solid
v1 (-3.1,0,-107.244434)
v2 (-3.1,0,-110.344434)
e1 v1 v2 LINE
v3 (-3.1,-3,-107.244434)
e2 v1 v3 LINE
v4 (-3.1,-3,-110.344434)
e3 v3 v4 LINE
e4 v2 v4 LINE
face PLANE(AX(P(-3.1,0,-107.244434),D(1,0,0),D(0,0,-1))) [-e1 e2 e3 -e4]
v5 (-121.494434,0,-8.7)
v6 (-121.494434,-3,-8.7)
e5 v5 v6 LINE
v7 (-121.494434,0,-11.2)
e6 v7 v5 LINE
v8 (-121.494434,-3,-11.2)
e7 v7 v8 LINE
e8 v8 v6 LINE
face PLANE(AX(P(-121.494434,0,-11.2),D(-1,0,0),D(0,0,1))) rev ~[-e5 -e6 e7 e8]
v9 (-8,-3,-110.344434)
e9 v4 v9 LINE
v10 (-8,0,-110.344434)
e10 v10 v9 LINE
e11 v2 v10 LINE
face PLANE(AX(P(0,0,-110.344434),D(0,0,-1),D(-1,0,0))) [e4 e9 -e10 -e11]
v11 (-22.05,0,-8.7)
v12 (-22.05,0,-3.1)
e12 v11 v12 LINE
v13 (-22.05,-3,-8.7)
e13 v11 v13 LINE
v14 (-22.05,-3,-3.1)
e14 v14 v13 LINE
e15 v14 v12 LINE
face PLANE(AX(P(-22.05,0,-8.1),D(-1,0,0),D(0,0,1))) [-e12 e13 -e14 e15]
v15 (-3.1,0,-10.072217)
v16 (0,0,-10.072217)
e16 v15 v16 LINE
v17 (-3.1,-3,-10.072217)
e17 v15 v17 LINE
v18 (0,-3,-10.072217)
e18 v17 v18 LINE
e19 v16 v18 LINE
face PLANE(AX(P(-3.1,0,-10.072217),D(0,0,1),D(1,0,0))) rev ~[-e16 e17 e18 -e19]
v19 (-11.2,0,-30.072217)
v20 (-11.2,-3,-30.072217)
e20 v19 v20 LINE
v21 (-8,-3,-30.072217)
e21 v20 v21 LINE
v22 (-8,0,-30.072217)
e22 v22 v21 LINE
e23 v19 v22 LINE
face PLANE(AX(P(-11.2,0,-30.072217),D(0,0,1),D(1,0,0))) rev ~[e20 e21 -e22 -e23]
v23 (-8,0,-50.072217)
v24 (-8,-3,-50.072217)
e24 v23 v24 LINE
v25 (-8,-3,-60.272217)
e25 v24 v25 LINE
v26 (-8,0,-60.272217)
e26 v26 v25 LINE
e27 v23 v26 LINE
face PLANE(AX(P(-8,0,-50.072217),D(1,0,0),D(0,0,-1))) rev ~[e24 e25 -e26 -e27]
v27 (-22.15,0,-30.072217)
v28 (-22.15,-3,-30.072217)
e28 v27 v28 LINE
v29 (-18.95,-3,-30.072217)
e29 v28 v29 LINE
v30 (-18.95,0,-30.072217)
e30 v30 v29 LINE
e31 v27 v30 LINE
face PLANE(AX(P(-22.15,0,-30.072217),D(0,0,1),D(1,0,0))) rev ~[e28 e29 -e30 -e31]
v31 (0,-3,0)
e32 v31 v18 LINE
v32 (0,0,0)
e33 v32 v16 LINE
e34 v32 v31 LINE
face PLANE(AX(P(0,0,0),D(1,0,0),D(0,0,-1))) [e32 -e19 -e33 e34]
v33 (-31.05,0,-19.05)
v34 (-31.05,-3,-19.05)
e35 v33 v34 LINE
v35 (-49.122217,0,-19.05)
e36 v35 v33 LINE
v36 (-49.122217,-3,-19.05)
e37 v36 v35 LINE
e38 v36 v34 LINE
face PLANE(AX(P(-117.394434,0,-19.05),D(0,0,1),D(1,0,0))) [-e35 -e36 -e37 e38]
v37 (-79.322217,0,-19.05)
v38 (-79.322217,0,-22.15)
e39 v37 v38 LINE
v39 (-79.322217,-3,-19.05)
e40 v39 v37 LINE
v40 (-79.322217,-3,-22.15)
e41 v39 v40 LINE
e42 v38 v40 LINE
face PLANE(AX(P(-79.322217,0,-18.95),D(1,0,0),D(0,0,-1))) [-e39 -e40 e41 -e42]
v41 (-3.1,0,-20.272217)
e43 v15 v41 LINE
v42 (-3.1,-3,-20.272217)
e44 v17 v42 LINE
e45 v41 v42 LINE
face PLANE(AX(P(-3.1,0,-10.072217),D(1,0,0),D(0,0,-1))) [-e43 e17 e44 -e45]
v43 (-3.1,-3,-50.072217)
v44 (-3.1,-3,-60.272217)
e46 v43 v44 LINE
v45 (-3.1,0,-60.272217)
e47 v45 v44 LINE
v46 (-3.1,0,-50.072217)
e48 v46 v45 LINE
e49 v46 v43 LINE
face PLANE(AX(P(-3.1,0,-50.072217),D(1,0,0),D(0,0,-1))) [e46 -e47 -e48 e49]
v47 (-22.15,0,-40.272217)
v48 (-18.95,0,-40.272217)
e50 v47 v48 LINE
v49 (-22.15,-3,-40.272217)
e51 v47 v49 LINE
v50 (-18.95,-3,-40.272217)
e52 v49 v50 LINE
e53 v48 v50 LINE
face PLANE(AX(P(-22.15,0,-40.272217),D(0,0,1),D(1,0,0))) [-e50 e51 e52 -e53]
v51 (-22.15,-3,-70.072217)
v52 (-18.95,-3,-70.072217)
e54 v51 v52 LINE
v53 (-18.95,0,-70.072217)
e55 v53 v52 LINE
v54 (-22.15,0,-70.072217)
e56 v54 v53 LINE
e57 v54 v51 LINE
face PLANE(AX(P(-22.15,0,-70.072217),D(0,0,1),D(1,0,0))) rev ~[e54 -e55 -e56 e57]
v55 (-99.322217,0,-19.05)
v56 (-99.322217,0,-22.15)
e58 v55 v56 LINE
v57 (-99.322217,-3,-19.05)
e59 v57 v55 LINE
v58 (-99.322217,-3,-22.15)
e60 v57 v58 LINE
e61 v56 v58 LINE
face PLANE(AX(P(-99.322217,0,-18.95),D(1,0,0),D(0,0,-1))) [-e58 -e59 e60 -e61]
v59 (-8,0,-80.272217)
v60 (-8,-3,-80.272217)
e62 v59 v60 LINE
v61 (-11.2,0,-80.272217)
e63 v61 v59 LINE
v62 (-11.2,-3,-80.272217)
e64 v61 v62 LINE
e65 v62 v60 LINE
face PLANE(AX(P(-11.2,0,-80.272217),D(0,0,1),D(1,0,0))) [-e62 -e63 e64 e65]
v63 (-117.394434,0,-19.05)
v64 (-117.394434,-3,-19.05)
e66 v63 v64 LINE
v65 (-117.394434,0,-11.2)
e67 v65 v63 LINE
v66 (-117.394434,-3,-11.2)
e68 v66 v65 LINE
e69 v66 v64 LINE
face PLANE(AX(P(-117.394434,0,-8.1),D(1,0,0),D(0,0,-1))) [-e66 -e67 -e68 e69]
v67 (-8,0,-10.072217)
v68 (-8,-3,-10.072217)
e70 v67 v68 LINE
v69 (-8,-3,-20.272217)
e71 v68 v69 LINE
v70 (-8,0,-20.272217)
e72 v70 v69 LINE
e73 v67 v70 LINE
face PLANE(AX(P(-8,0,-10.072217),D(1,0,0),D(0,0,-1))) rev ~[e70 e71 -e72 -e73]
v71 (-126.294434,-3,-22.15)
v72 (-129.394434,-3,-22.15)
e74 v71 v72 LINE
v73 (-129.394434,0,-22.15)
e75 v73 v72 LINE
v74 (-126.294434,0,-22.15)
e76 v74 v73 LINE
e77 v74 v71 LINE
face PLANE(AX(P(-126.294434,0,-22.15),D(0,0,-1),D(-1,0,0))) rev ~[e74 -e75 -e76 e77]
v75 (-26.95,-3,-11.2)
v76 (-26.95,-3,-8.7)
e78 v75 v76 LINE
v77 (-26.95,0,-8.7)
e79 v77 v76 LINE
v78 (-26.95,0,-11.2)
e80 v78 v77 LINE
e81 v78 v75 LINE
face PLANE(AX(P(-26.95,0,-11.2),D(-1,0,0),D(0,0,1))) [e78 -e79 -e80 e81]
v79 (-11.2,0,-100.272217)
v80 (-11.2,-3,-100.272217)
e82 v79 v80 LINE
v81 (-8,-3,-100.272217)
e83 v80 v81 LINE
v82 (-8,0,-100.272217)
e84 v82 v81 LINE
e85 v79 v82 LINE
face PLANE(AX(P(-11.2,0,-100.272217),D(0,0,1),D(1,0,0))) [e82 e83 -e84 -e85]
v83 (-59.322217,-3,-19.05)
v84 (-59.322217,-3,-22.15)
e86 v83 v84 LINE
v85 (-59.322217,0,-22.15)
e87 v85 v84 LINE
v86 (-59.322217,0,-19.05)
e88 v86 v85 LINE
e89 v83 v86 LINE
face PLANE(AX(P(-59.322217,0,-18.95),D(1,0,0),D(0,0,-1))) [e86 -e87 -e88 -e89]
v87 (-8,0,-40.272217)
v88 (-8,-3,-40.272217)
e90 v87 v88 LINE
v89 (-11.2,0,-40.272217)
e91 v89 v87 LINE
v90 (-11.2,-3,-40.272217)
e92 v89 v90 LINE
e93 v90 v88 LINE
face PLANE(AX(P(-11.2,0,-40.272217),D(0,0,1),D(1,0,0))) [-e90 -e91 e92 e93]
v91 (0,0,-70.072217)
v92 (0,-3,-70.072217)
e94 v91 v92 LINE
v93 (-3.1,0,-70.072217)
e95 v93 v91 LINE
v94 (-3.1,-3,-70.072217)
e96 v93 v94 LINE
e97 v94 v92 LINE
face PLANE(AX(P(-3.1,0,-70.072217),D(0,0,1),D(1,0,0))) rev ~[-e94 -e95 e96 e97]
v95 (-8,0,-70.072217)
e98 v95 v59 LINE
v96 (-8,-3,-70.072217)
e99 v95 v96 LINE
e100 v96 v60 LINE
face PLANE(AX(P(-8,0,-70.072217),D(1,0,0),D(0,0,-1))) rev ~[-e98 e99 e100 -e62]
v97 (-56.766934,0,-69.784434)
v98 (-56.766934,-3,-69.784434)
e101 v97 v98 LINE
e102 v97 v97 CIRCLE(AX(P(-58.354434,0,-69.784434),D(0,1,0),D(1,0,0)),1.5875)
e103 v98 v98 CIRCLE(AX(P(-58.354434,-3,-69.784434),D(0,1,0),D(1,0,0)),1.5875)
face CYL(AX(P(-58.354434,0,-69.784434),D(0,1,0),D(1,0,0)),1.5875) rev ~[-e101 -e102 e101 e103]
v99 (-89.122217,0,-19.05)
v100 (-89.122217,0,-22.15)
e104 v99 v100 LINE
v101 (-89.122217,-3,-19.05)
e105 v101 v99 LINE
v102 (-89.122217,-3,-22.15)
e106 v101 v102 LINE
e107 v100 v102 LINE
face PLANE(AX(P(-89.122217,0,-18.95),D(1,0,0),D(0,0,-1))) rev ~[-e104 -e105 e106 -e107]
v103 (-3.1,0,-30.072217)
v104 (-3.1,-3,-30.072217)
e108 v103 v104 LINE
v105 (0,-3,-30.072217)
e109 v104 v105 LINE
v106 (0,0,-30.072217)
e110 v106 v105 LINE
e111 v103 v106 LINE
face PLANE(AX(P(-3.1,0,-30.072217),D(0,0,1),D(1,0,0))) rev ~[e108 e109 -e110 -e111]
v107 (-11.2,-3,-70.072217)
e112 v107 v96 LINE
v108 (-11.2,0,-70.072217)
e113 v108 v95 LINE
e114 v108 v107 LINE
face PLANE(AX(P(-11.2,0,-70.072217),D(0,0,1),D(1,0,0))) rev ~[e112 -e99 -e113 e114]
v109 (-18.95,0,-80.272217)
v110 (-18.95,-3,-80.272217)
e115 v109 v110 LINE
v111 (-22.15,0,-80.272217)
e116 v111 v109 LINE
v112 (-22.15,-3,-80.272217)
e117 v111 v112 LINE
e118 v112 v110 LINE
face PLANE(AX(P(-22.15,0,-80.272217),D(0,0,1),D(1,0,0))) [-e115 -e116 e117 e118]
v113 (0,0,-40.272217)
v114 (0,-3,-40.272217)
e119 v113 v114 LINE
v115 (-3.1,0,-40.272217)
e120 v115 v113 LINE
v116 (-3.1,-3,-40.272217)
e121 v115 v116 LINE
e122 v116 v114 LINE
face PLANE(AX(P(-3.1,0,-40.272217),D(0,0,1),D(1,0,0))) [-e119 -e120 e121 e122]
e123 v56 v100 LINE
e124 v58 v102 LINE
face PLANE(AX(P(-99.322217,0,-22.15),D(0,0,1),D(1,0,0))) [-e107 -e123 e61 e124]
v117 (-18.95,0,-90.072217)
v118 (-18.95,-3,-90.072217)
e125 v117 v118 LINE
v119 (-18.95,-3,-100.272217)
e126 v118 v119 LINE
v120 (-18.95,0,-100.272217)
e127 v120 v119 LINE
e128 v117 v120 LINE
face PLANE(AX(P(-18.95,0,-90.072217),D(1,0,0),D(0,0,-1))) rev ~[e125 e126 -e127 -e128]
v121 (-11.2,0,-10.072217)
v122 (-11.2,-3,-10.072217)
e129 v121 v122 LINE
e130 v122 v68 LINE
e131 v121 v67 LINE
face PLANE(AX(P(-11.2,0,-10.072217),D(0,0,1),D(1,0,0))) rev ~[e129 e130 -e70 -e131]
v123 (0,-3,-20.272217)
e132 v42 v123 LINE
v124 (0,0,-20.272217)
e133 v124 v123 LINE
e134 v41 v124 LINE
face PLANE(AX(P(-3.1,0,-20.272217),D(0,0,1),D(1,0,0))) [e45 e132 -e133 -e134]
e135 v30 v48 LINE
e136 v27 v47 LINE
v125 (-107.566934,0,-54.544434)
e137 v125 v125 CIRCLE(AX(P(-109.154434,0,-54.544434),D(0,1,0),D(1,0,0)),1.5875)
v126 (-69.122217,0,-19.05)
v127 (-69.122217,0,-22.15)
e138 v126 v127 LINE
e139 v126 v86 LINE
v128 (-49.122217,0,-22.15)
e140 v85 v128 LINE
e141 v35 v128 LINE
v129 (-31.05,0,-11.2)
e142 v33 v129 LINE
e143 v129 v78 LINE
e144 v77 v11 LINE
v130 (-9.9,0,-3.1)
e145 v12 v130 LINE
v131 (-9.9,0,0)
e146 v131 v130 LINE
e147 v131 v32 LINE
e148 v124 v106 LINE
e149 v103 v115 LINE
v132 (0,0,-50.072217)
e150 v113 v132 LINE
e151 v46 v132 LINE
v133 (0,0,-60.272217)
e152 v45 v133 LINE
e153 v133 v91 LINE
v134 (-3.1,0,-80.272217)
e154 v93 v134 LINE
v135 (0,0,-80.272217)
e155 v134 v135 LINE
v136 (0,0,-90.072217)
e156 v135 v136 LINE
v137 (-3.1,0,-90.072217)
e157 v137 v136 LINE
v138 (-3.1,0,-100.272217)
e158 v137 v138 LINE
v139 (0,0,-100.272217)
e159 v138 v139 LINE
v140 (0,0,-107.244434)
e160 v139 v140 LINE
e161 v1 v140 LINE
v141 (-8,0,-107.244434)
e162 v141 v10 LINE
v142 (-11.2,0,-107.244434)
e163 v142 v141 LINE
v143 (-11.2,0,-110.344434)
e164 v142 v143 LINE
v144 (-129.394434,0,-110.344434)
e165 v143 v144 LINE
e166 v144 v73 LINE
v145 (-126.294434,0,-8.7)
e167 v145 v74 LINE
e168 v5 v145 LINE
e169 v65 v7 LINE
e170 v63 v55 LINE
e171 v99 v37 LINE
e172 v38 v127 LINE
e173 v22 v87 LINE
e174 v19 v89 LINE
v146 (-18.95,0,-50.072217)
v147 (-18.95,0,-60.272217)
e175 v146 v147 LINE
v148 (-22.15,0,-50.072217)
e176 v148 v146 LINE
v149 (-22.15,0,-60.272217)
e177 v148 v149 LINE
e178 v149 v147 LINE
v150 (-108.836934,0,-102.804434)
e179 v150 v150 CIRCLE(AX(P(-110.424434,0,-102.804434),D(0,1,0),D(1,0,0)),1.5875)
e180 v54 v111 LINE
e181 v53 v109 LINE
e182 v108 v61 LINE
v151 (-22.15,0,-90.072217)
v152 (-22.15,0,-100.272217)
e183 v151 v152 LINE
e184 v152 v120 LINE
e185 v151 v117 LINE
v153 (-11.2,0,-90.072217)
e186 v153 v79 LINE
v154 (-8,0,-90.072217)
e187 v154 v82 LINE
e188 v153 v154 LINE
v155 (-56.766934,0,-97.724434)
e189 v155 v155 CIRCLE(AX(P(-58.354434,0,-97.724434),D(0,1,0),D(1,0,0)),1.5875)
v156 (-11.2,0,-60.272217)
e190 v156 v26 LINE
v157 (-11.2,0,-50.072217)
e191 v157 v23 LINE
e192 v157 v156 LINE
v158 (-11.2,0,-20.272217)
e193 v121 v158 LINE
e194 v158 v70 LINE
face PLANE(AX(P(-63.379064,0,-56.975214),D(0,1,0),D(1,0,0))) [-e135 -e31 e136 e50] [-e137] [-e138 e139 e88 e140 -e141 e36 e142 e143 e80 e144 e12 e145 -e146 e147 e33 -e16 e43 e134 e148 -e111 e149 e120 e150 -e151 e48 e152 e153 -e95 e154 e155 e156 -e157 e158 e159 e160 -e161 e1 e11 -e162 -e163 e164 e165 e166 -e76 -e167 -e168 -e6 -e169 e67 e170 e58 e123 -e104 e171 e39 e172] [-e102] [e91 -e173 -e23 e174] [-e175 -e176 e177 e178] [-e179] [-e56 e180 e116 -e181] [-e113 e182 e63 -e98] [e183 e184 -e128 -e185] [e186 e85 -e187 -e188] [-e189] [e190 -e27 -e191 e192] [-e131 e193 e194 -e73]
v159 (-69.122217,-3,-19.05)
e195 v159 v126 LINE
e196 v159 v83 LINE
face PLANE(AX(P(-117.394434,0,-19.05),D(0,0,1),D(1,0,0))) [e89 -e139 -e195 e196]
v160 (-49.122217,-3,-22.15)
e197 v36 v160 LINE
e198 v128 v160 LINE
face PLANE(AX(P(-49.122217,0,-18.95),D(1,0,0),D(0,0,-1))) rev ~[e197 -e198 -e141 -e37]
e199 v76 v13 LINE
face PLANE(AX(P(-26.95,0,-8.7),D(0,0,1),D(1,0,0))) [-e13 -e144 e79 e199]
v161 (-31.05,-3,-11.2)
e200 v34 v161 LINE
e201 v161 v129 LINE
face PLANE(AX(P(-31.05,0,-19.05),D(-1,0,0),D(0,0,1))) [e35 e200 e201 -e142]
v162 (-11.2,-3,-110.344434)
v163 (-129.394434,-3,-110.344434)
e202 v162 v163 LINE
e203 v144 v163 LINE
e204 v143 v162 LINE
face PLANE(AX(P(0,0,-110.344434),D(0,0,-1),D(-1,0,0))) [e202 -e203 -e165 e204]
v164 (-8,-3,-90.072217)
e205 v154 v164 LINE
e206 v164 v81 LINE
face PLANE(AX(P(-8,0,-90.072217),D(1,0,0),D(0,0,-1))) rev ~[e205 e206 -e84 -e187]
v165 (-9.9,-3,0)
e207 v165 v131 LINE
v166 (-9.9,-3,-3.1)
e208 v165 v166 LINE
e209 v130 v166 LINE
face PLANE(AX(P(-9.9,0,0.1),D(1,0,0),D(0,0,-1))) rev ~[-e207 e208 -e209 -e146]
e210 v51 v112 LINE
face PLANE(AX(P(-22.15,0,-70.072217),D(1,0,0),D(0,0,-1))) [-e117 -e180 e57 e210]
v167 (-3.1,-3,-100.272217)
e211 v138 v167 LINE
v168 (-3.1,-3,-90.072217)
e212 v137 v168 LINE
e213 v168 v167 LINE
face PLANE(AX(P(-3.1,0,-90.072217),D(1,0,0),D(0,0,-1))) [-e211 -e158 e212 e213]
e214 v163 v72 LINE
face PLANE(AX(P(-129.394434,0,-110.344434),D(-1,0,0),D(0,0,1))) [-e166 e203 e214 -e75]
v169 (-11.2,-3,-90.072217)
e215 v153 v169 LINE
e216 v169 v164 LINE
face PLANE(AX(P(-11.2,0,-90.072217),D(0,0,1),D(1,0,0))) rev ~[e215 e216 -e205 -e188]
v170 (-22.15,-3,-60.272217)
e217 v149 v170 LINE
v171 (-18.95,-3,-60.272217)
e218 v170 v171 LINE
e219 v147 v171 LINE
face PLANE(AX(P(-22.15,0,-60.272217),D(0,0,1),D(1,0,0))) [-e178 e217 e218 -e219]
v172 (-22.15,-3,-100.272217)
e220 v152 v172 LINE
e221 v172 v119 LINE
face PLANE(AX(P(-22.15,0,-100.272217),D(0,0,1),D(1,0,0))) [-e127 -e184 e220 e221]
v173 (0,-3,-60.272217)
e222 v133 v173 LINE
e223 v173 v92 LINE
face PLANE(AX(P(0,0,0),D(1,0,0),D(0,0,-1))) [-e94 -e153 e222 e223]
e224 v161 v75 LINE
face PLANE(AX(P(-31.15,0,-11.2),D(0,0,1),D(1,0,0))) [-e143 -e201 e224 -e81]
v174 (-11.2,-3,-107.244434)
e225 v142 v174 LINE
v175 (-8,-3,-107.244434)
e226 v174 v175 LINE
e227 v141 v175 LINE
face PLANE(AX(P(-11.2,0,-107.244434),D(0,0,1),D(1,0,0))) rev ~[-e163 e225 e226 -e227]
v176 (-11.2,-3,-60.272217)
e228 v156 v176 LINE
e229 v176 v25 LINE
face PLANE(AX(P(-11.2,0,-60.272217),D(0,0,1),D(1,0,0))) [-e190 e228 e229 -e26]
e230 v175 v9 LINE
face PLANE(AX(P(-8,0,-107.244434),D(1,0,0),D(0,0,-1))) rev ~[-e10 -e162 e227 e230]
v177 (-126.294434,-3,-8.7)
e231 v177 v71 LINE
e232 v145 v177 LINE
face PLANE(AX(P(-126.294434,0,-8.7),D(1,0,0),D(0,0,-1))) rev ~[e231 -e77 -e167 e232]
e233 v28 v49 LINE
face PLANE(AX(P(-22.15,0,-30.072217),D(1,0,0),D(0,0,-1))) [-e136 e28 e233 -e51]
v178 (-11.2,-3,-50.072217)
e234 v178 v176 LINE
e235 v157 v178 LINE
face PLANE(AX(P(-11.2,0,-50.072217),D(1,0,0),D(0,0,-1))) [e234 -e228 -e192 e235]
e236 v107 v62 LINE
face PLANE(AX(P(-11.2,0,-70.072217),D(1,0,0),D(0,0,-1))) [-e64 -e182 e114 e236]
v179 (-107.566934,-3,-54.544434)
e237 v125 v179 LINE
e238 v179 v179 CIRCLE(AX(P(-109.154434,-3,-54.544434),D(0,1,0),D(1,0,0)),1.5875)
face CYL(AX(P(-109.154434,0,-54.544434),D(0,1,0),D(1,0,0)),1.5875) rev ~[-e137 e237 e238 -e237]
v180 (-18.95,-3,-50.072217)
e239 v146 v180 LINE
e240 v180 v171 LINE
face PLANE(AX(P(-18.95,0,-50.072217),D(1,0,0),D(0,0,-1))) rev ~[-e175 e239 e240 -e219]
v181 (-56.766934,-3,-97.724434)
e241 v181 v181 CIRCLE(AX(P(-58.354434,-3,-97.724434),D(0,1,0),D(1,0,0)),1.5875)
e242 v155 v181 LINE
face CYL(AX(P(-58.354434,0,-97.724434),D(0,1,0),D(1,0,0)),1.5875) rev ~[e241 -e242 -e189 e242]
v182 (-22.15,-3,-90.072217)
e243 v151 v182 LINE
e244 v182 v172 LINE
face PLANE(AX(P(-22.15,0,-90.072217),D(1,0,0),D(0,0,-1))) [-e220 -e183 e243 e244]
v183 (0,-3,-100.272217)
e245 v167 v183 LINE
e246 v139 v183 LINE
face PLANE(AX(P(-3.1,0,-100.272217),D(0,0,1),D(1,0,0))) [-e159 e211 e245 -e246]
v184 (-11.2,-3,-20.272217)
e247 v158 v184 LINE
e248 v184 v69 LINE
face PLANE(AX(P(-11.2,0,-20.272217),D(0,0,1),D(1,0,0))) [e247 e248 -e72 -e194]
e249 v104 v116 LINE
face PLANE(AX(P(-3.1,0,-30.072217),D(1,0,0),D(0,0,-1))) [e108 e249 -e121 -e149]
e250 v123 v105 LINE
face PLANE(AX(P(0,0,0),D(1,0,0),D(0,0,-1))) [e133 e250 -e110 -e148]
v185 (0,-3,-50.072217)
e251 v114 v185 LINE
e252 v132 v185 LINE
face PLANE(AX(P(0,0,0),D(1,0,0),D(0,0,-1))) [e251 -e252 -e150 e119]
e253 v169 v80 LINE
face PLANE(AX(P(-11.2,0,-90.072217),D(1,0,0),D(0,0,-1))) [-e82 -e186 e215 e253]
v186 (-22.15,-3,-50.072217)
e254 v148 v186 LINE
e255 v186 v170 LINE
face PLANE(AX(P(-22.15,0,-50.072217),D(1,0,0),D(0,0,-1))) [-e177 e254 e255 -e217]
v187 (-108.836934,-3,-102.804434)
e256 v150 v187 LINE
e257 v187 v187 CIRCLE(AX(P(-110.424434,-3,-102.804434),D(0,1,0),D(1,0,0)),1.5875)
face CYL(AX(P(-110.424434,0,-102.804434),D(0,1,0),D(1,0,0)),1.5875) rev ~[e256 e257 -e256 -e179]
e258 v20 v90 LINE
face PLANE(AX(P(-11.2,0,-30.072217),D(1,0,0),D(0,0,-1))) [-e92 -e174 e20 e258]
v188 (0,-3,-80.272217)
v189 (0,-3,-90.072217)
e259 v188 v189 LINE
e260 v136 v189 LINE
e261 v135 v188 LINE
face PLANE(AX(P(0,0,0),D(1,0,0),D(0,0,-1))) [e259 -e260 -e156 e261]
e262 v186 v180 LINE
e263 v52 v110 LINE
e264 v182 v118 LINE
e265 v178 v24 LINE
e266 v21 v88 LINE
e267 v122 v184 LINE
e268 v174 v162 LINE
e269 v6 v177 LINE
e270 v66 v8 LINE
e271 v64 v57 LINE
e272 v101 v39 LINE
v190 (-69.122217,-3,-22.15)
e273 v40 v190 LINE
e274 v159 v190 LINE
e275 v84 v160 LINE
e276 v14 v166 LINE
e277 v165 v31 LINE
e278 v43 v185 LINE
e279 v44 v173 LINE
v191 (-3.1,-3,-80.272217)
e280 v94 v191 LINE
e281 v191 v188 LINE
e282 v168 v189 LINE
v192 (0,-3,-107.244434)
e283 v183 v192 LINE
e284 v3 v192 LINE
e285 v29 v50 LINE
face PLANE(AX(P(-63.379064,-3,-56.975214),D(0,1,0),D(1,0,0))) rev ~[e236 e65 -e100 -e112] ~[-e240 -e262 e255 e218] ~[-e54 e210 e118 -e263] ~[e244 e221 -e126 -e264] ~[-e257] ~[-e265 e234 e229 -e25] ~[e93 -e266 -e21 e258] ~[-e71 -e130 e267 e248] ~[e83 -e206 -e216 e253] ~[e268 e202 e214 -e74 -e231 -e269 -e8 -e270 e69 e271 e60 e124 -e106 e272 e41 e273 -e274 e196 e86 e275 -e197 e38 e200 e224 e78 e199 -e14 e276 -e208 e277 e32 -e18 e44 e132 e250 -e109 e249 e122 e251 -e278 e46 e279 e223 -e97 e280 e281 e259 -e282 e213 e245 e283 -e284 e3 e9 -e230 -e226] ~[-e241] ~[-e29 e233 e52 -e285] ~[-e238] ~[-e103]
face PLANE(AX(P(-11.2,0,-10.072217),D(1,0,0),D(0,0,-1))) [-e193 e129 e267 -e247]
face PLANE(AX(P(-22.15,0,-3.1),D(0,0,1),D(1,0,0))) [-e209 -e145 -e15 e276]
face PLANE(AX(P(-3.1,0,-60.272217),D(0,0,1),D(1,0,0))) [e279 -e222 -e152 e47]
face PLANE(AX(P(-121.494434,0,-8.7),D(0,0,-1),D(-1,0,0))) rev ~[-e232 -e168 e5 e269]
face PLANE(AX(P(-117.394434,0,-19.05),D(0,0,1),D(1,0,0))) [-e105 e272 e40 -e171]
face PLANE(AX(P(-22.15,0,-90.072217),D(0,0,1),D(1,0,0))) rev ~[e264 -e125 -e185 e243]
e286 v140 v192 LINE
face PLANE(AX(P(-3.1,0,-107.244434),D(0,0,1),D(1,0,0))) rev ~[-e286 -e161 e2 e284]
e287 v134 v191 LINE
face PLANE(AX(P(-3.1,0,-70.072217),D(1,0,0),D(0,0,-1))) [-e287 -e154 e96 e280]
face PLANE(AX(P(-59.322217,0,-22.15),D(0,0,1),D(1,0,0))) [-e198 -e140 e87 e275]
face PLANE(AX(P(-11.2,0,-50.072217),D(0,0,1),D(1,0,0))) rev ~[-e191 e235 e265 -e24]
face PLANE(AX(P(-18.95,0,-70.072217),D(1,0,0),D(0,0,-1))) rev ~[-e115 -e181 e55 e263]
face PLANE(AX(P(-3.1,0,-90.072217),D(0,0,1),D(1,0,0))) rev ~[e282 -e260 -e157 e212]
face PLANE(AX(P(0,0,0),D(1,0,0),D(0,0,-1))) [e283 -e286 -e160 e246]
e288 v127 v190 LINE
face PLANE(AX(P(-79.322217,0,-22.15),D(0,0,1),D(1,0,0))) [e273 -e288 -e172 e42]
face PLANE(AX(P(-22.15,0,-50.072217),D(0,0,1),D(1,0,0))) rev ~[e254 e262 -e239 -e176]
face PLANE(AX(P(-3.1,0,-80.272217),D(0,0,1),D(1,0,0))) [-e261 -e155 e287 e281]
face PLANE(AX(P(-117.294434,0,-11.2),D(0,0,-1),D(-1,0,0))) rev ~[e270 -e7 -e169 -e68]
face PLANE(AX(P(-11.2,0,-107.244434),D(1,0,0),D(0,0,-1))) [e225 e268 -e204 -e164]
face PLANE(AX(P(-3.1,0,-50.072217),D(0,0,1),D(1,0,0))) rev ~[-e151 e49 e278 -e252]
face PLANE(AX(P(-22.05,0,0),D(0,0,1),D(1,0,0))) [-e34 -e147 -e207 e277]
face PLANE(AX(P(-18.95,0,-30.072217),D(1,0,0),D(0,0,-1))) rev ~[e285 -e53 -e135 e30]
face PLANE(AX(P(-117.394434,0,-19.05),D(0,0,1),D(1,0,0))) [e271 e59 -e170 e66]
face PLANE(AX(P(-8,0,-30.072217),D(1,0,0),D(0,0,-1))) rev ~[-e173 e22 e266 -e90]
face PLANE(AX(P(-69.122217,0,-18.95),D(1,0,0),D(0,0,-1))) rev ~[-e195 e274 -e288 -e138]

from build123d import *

# Parameters (mm, degrees)
BOSS_EXTRUDE1_DEPTH = 3
SKETCH2_R           = 1.5875
CUT_EXTRUDE1_DEPTH  = 4
SKETCH4_W           = 10.2
SKETCH4_H           = 3.2
SKETCH4_W_2         = 3.2
SKETCH4_H_2         = 10.2
SKETCH4_W_3         = 12.25
CUT_EXTRUDE2_DEPTH  = 4


with BuildPart() as part:
    # Sketch1 → Boss-Extrude1 (new body)
    with BuildSketch(Plane(origin=(0, 0, 0), x_dir=(1, 0, 0), z_dir=(0, 1, 0))):
        Polygon((-129.394434203, 8.1), (-117.394434203, 8.1), (-117.394434203, 19.05), (-31.05, 19.05), (-31.05, 8.1), (-22.05, 8.1), (-22.05, 0), (0, 0), (0, 110.344434203), (-129.394434203, 110.344434203), align=None)
    extrude(amount=-BOSS_EXTRUDE1_DEPTH)

    # Sketch2 → Cut-Extrude1 (cut, through all)
    with BuildSketch(Plane(origin=(0, 0, 0), x_dir=(1, 0, 0), z_dir=(0, 1, 0))):
        with Locations((-58.354434203, 97.724434203)):
            Circle(SKETCH2_R)
        with Locations((-58.354434203, 69.784434203)):
            Circle(SKETCH2_R)
        with Locations((-110.424434203, 102.804434203)):
            Circle(SKETCH2_R)
        with Locations((-109.154434203, 54.544434203)):
            Circle(SKETCH2_R)
    extrude(amount=-CUT_EXTRUDE1_DEPTH, mode=Mode.SUBTRACT)

    # Sketch4 → Cut-Extrude2 (cut, through all)
    with BuildSketch(Plane(origin=(0, 0, 0), x_dir=(1, 0, 0), z_dir=(0, 1, 0))):
        Polygon((-126.294434203, 22.15), (-129.494434203, 22.15), (-129.494434203, 8), (-117.294434203, 8), (-117.294434203, 11.2), (-121.494434203, 11.2), (-121.494434203, 8.7), (-126.294434203, 8.7), align=None)
        with Locations((-74.222217102, 20.55)):
            Rectangle(SKETCH4_W, SKETCH4_H)
        with Locations((-94.222217102, 20.55)):
            Rectangle(SKETCH4_W, SKETCH4_H)
        with Locations((-54.222217102, 20.55)):
            Rectangle(SKETCH4_W, SKETCH4_H)
        Polygon((-26.95, 8.7), (-22.05, 8.7), (-22.05, 8), (-31.15, 8), (-31.15, 11.2), (-26.95, 11.2), align=None)
        with Locations((-9.6, 35.172217102)):
            Rectangle(SKETCH4_W_2, SKETCH4_H_2)
        with Locations((-16.025, 1.5)):
            Rectangle(SKETCH4_W_3, SKETCH4_H)
        with Locations((-9.6, 15.172217102)):
            Rectangle(SKETCH4_W_2, SKETCH4_H_2)
        with Locations((-1.5, 15.172217102)):
            Rectangle(SKETCH4_W_2, SKETCH4_H_2)
        with Locations((-1.5, 35.172217102)):
            Rectangle(SKETCH4_W_2, SKETCH4_H_2)
        with Locations((-20.55, 35.172217102)):
            Rectangle(SKETCH4_W_2, SKETCH4_H_2)
        with Locations((-1.5, 55.172217102)):
            Rectangle(SKETCH4_W_2, SKETCH4_H_2)
        with Locations((-20.55, 55.172217102)):
            Rectangle(SKETCH4_W_2, SKETCH4_H_2)
        with Locations((-1.5, 75.172217102)):
            Rectangle(SKETCH4_W_2, SKETCH4_H_2)
        with Locations((-20.55, 75.172217102)):
            Rectangle(SKETCH4_W_2, SKETCH4_H_2)
        with Locations((-1.5, 95.172217102)):
            Rectangle(SKETCH4_W_2, SKETCH4_H_2)
        with Locations((-20.55, 95.172217102)):
            Rectangle(SKETCH4_W_2, SKETCH4_H_2)
        with Locations((-9.6, 108.844434203)):
            Rectangle(SKETCH4_W_2, SKETCH4_H)
        with Locations((-1.5, 108.844434203)):
            Rectangle(SKETCH4_W_2, SKETCH4_H)
        with Locations((-9.6, 95.172217102)):
            Rectangle(SKETCH4_W_2, SKETCH4_H_2)
        with Locations((-9.6, 75.172217102)):
            Rectangle(SKETCH4_W_2, SKETCH4_H_2)
        with Locations((-9.6, 55.172217102)):
            Rectangle(SKETCH4_W_2, SKETCH4_H_2)
    extrude(amount=-CUT_EXTRUDE2_DEPTH, mode=Mode.SUBTRACT)


solid = part.part
